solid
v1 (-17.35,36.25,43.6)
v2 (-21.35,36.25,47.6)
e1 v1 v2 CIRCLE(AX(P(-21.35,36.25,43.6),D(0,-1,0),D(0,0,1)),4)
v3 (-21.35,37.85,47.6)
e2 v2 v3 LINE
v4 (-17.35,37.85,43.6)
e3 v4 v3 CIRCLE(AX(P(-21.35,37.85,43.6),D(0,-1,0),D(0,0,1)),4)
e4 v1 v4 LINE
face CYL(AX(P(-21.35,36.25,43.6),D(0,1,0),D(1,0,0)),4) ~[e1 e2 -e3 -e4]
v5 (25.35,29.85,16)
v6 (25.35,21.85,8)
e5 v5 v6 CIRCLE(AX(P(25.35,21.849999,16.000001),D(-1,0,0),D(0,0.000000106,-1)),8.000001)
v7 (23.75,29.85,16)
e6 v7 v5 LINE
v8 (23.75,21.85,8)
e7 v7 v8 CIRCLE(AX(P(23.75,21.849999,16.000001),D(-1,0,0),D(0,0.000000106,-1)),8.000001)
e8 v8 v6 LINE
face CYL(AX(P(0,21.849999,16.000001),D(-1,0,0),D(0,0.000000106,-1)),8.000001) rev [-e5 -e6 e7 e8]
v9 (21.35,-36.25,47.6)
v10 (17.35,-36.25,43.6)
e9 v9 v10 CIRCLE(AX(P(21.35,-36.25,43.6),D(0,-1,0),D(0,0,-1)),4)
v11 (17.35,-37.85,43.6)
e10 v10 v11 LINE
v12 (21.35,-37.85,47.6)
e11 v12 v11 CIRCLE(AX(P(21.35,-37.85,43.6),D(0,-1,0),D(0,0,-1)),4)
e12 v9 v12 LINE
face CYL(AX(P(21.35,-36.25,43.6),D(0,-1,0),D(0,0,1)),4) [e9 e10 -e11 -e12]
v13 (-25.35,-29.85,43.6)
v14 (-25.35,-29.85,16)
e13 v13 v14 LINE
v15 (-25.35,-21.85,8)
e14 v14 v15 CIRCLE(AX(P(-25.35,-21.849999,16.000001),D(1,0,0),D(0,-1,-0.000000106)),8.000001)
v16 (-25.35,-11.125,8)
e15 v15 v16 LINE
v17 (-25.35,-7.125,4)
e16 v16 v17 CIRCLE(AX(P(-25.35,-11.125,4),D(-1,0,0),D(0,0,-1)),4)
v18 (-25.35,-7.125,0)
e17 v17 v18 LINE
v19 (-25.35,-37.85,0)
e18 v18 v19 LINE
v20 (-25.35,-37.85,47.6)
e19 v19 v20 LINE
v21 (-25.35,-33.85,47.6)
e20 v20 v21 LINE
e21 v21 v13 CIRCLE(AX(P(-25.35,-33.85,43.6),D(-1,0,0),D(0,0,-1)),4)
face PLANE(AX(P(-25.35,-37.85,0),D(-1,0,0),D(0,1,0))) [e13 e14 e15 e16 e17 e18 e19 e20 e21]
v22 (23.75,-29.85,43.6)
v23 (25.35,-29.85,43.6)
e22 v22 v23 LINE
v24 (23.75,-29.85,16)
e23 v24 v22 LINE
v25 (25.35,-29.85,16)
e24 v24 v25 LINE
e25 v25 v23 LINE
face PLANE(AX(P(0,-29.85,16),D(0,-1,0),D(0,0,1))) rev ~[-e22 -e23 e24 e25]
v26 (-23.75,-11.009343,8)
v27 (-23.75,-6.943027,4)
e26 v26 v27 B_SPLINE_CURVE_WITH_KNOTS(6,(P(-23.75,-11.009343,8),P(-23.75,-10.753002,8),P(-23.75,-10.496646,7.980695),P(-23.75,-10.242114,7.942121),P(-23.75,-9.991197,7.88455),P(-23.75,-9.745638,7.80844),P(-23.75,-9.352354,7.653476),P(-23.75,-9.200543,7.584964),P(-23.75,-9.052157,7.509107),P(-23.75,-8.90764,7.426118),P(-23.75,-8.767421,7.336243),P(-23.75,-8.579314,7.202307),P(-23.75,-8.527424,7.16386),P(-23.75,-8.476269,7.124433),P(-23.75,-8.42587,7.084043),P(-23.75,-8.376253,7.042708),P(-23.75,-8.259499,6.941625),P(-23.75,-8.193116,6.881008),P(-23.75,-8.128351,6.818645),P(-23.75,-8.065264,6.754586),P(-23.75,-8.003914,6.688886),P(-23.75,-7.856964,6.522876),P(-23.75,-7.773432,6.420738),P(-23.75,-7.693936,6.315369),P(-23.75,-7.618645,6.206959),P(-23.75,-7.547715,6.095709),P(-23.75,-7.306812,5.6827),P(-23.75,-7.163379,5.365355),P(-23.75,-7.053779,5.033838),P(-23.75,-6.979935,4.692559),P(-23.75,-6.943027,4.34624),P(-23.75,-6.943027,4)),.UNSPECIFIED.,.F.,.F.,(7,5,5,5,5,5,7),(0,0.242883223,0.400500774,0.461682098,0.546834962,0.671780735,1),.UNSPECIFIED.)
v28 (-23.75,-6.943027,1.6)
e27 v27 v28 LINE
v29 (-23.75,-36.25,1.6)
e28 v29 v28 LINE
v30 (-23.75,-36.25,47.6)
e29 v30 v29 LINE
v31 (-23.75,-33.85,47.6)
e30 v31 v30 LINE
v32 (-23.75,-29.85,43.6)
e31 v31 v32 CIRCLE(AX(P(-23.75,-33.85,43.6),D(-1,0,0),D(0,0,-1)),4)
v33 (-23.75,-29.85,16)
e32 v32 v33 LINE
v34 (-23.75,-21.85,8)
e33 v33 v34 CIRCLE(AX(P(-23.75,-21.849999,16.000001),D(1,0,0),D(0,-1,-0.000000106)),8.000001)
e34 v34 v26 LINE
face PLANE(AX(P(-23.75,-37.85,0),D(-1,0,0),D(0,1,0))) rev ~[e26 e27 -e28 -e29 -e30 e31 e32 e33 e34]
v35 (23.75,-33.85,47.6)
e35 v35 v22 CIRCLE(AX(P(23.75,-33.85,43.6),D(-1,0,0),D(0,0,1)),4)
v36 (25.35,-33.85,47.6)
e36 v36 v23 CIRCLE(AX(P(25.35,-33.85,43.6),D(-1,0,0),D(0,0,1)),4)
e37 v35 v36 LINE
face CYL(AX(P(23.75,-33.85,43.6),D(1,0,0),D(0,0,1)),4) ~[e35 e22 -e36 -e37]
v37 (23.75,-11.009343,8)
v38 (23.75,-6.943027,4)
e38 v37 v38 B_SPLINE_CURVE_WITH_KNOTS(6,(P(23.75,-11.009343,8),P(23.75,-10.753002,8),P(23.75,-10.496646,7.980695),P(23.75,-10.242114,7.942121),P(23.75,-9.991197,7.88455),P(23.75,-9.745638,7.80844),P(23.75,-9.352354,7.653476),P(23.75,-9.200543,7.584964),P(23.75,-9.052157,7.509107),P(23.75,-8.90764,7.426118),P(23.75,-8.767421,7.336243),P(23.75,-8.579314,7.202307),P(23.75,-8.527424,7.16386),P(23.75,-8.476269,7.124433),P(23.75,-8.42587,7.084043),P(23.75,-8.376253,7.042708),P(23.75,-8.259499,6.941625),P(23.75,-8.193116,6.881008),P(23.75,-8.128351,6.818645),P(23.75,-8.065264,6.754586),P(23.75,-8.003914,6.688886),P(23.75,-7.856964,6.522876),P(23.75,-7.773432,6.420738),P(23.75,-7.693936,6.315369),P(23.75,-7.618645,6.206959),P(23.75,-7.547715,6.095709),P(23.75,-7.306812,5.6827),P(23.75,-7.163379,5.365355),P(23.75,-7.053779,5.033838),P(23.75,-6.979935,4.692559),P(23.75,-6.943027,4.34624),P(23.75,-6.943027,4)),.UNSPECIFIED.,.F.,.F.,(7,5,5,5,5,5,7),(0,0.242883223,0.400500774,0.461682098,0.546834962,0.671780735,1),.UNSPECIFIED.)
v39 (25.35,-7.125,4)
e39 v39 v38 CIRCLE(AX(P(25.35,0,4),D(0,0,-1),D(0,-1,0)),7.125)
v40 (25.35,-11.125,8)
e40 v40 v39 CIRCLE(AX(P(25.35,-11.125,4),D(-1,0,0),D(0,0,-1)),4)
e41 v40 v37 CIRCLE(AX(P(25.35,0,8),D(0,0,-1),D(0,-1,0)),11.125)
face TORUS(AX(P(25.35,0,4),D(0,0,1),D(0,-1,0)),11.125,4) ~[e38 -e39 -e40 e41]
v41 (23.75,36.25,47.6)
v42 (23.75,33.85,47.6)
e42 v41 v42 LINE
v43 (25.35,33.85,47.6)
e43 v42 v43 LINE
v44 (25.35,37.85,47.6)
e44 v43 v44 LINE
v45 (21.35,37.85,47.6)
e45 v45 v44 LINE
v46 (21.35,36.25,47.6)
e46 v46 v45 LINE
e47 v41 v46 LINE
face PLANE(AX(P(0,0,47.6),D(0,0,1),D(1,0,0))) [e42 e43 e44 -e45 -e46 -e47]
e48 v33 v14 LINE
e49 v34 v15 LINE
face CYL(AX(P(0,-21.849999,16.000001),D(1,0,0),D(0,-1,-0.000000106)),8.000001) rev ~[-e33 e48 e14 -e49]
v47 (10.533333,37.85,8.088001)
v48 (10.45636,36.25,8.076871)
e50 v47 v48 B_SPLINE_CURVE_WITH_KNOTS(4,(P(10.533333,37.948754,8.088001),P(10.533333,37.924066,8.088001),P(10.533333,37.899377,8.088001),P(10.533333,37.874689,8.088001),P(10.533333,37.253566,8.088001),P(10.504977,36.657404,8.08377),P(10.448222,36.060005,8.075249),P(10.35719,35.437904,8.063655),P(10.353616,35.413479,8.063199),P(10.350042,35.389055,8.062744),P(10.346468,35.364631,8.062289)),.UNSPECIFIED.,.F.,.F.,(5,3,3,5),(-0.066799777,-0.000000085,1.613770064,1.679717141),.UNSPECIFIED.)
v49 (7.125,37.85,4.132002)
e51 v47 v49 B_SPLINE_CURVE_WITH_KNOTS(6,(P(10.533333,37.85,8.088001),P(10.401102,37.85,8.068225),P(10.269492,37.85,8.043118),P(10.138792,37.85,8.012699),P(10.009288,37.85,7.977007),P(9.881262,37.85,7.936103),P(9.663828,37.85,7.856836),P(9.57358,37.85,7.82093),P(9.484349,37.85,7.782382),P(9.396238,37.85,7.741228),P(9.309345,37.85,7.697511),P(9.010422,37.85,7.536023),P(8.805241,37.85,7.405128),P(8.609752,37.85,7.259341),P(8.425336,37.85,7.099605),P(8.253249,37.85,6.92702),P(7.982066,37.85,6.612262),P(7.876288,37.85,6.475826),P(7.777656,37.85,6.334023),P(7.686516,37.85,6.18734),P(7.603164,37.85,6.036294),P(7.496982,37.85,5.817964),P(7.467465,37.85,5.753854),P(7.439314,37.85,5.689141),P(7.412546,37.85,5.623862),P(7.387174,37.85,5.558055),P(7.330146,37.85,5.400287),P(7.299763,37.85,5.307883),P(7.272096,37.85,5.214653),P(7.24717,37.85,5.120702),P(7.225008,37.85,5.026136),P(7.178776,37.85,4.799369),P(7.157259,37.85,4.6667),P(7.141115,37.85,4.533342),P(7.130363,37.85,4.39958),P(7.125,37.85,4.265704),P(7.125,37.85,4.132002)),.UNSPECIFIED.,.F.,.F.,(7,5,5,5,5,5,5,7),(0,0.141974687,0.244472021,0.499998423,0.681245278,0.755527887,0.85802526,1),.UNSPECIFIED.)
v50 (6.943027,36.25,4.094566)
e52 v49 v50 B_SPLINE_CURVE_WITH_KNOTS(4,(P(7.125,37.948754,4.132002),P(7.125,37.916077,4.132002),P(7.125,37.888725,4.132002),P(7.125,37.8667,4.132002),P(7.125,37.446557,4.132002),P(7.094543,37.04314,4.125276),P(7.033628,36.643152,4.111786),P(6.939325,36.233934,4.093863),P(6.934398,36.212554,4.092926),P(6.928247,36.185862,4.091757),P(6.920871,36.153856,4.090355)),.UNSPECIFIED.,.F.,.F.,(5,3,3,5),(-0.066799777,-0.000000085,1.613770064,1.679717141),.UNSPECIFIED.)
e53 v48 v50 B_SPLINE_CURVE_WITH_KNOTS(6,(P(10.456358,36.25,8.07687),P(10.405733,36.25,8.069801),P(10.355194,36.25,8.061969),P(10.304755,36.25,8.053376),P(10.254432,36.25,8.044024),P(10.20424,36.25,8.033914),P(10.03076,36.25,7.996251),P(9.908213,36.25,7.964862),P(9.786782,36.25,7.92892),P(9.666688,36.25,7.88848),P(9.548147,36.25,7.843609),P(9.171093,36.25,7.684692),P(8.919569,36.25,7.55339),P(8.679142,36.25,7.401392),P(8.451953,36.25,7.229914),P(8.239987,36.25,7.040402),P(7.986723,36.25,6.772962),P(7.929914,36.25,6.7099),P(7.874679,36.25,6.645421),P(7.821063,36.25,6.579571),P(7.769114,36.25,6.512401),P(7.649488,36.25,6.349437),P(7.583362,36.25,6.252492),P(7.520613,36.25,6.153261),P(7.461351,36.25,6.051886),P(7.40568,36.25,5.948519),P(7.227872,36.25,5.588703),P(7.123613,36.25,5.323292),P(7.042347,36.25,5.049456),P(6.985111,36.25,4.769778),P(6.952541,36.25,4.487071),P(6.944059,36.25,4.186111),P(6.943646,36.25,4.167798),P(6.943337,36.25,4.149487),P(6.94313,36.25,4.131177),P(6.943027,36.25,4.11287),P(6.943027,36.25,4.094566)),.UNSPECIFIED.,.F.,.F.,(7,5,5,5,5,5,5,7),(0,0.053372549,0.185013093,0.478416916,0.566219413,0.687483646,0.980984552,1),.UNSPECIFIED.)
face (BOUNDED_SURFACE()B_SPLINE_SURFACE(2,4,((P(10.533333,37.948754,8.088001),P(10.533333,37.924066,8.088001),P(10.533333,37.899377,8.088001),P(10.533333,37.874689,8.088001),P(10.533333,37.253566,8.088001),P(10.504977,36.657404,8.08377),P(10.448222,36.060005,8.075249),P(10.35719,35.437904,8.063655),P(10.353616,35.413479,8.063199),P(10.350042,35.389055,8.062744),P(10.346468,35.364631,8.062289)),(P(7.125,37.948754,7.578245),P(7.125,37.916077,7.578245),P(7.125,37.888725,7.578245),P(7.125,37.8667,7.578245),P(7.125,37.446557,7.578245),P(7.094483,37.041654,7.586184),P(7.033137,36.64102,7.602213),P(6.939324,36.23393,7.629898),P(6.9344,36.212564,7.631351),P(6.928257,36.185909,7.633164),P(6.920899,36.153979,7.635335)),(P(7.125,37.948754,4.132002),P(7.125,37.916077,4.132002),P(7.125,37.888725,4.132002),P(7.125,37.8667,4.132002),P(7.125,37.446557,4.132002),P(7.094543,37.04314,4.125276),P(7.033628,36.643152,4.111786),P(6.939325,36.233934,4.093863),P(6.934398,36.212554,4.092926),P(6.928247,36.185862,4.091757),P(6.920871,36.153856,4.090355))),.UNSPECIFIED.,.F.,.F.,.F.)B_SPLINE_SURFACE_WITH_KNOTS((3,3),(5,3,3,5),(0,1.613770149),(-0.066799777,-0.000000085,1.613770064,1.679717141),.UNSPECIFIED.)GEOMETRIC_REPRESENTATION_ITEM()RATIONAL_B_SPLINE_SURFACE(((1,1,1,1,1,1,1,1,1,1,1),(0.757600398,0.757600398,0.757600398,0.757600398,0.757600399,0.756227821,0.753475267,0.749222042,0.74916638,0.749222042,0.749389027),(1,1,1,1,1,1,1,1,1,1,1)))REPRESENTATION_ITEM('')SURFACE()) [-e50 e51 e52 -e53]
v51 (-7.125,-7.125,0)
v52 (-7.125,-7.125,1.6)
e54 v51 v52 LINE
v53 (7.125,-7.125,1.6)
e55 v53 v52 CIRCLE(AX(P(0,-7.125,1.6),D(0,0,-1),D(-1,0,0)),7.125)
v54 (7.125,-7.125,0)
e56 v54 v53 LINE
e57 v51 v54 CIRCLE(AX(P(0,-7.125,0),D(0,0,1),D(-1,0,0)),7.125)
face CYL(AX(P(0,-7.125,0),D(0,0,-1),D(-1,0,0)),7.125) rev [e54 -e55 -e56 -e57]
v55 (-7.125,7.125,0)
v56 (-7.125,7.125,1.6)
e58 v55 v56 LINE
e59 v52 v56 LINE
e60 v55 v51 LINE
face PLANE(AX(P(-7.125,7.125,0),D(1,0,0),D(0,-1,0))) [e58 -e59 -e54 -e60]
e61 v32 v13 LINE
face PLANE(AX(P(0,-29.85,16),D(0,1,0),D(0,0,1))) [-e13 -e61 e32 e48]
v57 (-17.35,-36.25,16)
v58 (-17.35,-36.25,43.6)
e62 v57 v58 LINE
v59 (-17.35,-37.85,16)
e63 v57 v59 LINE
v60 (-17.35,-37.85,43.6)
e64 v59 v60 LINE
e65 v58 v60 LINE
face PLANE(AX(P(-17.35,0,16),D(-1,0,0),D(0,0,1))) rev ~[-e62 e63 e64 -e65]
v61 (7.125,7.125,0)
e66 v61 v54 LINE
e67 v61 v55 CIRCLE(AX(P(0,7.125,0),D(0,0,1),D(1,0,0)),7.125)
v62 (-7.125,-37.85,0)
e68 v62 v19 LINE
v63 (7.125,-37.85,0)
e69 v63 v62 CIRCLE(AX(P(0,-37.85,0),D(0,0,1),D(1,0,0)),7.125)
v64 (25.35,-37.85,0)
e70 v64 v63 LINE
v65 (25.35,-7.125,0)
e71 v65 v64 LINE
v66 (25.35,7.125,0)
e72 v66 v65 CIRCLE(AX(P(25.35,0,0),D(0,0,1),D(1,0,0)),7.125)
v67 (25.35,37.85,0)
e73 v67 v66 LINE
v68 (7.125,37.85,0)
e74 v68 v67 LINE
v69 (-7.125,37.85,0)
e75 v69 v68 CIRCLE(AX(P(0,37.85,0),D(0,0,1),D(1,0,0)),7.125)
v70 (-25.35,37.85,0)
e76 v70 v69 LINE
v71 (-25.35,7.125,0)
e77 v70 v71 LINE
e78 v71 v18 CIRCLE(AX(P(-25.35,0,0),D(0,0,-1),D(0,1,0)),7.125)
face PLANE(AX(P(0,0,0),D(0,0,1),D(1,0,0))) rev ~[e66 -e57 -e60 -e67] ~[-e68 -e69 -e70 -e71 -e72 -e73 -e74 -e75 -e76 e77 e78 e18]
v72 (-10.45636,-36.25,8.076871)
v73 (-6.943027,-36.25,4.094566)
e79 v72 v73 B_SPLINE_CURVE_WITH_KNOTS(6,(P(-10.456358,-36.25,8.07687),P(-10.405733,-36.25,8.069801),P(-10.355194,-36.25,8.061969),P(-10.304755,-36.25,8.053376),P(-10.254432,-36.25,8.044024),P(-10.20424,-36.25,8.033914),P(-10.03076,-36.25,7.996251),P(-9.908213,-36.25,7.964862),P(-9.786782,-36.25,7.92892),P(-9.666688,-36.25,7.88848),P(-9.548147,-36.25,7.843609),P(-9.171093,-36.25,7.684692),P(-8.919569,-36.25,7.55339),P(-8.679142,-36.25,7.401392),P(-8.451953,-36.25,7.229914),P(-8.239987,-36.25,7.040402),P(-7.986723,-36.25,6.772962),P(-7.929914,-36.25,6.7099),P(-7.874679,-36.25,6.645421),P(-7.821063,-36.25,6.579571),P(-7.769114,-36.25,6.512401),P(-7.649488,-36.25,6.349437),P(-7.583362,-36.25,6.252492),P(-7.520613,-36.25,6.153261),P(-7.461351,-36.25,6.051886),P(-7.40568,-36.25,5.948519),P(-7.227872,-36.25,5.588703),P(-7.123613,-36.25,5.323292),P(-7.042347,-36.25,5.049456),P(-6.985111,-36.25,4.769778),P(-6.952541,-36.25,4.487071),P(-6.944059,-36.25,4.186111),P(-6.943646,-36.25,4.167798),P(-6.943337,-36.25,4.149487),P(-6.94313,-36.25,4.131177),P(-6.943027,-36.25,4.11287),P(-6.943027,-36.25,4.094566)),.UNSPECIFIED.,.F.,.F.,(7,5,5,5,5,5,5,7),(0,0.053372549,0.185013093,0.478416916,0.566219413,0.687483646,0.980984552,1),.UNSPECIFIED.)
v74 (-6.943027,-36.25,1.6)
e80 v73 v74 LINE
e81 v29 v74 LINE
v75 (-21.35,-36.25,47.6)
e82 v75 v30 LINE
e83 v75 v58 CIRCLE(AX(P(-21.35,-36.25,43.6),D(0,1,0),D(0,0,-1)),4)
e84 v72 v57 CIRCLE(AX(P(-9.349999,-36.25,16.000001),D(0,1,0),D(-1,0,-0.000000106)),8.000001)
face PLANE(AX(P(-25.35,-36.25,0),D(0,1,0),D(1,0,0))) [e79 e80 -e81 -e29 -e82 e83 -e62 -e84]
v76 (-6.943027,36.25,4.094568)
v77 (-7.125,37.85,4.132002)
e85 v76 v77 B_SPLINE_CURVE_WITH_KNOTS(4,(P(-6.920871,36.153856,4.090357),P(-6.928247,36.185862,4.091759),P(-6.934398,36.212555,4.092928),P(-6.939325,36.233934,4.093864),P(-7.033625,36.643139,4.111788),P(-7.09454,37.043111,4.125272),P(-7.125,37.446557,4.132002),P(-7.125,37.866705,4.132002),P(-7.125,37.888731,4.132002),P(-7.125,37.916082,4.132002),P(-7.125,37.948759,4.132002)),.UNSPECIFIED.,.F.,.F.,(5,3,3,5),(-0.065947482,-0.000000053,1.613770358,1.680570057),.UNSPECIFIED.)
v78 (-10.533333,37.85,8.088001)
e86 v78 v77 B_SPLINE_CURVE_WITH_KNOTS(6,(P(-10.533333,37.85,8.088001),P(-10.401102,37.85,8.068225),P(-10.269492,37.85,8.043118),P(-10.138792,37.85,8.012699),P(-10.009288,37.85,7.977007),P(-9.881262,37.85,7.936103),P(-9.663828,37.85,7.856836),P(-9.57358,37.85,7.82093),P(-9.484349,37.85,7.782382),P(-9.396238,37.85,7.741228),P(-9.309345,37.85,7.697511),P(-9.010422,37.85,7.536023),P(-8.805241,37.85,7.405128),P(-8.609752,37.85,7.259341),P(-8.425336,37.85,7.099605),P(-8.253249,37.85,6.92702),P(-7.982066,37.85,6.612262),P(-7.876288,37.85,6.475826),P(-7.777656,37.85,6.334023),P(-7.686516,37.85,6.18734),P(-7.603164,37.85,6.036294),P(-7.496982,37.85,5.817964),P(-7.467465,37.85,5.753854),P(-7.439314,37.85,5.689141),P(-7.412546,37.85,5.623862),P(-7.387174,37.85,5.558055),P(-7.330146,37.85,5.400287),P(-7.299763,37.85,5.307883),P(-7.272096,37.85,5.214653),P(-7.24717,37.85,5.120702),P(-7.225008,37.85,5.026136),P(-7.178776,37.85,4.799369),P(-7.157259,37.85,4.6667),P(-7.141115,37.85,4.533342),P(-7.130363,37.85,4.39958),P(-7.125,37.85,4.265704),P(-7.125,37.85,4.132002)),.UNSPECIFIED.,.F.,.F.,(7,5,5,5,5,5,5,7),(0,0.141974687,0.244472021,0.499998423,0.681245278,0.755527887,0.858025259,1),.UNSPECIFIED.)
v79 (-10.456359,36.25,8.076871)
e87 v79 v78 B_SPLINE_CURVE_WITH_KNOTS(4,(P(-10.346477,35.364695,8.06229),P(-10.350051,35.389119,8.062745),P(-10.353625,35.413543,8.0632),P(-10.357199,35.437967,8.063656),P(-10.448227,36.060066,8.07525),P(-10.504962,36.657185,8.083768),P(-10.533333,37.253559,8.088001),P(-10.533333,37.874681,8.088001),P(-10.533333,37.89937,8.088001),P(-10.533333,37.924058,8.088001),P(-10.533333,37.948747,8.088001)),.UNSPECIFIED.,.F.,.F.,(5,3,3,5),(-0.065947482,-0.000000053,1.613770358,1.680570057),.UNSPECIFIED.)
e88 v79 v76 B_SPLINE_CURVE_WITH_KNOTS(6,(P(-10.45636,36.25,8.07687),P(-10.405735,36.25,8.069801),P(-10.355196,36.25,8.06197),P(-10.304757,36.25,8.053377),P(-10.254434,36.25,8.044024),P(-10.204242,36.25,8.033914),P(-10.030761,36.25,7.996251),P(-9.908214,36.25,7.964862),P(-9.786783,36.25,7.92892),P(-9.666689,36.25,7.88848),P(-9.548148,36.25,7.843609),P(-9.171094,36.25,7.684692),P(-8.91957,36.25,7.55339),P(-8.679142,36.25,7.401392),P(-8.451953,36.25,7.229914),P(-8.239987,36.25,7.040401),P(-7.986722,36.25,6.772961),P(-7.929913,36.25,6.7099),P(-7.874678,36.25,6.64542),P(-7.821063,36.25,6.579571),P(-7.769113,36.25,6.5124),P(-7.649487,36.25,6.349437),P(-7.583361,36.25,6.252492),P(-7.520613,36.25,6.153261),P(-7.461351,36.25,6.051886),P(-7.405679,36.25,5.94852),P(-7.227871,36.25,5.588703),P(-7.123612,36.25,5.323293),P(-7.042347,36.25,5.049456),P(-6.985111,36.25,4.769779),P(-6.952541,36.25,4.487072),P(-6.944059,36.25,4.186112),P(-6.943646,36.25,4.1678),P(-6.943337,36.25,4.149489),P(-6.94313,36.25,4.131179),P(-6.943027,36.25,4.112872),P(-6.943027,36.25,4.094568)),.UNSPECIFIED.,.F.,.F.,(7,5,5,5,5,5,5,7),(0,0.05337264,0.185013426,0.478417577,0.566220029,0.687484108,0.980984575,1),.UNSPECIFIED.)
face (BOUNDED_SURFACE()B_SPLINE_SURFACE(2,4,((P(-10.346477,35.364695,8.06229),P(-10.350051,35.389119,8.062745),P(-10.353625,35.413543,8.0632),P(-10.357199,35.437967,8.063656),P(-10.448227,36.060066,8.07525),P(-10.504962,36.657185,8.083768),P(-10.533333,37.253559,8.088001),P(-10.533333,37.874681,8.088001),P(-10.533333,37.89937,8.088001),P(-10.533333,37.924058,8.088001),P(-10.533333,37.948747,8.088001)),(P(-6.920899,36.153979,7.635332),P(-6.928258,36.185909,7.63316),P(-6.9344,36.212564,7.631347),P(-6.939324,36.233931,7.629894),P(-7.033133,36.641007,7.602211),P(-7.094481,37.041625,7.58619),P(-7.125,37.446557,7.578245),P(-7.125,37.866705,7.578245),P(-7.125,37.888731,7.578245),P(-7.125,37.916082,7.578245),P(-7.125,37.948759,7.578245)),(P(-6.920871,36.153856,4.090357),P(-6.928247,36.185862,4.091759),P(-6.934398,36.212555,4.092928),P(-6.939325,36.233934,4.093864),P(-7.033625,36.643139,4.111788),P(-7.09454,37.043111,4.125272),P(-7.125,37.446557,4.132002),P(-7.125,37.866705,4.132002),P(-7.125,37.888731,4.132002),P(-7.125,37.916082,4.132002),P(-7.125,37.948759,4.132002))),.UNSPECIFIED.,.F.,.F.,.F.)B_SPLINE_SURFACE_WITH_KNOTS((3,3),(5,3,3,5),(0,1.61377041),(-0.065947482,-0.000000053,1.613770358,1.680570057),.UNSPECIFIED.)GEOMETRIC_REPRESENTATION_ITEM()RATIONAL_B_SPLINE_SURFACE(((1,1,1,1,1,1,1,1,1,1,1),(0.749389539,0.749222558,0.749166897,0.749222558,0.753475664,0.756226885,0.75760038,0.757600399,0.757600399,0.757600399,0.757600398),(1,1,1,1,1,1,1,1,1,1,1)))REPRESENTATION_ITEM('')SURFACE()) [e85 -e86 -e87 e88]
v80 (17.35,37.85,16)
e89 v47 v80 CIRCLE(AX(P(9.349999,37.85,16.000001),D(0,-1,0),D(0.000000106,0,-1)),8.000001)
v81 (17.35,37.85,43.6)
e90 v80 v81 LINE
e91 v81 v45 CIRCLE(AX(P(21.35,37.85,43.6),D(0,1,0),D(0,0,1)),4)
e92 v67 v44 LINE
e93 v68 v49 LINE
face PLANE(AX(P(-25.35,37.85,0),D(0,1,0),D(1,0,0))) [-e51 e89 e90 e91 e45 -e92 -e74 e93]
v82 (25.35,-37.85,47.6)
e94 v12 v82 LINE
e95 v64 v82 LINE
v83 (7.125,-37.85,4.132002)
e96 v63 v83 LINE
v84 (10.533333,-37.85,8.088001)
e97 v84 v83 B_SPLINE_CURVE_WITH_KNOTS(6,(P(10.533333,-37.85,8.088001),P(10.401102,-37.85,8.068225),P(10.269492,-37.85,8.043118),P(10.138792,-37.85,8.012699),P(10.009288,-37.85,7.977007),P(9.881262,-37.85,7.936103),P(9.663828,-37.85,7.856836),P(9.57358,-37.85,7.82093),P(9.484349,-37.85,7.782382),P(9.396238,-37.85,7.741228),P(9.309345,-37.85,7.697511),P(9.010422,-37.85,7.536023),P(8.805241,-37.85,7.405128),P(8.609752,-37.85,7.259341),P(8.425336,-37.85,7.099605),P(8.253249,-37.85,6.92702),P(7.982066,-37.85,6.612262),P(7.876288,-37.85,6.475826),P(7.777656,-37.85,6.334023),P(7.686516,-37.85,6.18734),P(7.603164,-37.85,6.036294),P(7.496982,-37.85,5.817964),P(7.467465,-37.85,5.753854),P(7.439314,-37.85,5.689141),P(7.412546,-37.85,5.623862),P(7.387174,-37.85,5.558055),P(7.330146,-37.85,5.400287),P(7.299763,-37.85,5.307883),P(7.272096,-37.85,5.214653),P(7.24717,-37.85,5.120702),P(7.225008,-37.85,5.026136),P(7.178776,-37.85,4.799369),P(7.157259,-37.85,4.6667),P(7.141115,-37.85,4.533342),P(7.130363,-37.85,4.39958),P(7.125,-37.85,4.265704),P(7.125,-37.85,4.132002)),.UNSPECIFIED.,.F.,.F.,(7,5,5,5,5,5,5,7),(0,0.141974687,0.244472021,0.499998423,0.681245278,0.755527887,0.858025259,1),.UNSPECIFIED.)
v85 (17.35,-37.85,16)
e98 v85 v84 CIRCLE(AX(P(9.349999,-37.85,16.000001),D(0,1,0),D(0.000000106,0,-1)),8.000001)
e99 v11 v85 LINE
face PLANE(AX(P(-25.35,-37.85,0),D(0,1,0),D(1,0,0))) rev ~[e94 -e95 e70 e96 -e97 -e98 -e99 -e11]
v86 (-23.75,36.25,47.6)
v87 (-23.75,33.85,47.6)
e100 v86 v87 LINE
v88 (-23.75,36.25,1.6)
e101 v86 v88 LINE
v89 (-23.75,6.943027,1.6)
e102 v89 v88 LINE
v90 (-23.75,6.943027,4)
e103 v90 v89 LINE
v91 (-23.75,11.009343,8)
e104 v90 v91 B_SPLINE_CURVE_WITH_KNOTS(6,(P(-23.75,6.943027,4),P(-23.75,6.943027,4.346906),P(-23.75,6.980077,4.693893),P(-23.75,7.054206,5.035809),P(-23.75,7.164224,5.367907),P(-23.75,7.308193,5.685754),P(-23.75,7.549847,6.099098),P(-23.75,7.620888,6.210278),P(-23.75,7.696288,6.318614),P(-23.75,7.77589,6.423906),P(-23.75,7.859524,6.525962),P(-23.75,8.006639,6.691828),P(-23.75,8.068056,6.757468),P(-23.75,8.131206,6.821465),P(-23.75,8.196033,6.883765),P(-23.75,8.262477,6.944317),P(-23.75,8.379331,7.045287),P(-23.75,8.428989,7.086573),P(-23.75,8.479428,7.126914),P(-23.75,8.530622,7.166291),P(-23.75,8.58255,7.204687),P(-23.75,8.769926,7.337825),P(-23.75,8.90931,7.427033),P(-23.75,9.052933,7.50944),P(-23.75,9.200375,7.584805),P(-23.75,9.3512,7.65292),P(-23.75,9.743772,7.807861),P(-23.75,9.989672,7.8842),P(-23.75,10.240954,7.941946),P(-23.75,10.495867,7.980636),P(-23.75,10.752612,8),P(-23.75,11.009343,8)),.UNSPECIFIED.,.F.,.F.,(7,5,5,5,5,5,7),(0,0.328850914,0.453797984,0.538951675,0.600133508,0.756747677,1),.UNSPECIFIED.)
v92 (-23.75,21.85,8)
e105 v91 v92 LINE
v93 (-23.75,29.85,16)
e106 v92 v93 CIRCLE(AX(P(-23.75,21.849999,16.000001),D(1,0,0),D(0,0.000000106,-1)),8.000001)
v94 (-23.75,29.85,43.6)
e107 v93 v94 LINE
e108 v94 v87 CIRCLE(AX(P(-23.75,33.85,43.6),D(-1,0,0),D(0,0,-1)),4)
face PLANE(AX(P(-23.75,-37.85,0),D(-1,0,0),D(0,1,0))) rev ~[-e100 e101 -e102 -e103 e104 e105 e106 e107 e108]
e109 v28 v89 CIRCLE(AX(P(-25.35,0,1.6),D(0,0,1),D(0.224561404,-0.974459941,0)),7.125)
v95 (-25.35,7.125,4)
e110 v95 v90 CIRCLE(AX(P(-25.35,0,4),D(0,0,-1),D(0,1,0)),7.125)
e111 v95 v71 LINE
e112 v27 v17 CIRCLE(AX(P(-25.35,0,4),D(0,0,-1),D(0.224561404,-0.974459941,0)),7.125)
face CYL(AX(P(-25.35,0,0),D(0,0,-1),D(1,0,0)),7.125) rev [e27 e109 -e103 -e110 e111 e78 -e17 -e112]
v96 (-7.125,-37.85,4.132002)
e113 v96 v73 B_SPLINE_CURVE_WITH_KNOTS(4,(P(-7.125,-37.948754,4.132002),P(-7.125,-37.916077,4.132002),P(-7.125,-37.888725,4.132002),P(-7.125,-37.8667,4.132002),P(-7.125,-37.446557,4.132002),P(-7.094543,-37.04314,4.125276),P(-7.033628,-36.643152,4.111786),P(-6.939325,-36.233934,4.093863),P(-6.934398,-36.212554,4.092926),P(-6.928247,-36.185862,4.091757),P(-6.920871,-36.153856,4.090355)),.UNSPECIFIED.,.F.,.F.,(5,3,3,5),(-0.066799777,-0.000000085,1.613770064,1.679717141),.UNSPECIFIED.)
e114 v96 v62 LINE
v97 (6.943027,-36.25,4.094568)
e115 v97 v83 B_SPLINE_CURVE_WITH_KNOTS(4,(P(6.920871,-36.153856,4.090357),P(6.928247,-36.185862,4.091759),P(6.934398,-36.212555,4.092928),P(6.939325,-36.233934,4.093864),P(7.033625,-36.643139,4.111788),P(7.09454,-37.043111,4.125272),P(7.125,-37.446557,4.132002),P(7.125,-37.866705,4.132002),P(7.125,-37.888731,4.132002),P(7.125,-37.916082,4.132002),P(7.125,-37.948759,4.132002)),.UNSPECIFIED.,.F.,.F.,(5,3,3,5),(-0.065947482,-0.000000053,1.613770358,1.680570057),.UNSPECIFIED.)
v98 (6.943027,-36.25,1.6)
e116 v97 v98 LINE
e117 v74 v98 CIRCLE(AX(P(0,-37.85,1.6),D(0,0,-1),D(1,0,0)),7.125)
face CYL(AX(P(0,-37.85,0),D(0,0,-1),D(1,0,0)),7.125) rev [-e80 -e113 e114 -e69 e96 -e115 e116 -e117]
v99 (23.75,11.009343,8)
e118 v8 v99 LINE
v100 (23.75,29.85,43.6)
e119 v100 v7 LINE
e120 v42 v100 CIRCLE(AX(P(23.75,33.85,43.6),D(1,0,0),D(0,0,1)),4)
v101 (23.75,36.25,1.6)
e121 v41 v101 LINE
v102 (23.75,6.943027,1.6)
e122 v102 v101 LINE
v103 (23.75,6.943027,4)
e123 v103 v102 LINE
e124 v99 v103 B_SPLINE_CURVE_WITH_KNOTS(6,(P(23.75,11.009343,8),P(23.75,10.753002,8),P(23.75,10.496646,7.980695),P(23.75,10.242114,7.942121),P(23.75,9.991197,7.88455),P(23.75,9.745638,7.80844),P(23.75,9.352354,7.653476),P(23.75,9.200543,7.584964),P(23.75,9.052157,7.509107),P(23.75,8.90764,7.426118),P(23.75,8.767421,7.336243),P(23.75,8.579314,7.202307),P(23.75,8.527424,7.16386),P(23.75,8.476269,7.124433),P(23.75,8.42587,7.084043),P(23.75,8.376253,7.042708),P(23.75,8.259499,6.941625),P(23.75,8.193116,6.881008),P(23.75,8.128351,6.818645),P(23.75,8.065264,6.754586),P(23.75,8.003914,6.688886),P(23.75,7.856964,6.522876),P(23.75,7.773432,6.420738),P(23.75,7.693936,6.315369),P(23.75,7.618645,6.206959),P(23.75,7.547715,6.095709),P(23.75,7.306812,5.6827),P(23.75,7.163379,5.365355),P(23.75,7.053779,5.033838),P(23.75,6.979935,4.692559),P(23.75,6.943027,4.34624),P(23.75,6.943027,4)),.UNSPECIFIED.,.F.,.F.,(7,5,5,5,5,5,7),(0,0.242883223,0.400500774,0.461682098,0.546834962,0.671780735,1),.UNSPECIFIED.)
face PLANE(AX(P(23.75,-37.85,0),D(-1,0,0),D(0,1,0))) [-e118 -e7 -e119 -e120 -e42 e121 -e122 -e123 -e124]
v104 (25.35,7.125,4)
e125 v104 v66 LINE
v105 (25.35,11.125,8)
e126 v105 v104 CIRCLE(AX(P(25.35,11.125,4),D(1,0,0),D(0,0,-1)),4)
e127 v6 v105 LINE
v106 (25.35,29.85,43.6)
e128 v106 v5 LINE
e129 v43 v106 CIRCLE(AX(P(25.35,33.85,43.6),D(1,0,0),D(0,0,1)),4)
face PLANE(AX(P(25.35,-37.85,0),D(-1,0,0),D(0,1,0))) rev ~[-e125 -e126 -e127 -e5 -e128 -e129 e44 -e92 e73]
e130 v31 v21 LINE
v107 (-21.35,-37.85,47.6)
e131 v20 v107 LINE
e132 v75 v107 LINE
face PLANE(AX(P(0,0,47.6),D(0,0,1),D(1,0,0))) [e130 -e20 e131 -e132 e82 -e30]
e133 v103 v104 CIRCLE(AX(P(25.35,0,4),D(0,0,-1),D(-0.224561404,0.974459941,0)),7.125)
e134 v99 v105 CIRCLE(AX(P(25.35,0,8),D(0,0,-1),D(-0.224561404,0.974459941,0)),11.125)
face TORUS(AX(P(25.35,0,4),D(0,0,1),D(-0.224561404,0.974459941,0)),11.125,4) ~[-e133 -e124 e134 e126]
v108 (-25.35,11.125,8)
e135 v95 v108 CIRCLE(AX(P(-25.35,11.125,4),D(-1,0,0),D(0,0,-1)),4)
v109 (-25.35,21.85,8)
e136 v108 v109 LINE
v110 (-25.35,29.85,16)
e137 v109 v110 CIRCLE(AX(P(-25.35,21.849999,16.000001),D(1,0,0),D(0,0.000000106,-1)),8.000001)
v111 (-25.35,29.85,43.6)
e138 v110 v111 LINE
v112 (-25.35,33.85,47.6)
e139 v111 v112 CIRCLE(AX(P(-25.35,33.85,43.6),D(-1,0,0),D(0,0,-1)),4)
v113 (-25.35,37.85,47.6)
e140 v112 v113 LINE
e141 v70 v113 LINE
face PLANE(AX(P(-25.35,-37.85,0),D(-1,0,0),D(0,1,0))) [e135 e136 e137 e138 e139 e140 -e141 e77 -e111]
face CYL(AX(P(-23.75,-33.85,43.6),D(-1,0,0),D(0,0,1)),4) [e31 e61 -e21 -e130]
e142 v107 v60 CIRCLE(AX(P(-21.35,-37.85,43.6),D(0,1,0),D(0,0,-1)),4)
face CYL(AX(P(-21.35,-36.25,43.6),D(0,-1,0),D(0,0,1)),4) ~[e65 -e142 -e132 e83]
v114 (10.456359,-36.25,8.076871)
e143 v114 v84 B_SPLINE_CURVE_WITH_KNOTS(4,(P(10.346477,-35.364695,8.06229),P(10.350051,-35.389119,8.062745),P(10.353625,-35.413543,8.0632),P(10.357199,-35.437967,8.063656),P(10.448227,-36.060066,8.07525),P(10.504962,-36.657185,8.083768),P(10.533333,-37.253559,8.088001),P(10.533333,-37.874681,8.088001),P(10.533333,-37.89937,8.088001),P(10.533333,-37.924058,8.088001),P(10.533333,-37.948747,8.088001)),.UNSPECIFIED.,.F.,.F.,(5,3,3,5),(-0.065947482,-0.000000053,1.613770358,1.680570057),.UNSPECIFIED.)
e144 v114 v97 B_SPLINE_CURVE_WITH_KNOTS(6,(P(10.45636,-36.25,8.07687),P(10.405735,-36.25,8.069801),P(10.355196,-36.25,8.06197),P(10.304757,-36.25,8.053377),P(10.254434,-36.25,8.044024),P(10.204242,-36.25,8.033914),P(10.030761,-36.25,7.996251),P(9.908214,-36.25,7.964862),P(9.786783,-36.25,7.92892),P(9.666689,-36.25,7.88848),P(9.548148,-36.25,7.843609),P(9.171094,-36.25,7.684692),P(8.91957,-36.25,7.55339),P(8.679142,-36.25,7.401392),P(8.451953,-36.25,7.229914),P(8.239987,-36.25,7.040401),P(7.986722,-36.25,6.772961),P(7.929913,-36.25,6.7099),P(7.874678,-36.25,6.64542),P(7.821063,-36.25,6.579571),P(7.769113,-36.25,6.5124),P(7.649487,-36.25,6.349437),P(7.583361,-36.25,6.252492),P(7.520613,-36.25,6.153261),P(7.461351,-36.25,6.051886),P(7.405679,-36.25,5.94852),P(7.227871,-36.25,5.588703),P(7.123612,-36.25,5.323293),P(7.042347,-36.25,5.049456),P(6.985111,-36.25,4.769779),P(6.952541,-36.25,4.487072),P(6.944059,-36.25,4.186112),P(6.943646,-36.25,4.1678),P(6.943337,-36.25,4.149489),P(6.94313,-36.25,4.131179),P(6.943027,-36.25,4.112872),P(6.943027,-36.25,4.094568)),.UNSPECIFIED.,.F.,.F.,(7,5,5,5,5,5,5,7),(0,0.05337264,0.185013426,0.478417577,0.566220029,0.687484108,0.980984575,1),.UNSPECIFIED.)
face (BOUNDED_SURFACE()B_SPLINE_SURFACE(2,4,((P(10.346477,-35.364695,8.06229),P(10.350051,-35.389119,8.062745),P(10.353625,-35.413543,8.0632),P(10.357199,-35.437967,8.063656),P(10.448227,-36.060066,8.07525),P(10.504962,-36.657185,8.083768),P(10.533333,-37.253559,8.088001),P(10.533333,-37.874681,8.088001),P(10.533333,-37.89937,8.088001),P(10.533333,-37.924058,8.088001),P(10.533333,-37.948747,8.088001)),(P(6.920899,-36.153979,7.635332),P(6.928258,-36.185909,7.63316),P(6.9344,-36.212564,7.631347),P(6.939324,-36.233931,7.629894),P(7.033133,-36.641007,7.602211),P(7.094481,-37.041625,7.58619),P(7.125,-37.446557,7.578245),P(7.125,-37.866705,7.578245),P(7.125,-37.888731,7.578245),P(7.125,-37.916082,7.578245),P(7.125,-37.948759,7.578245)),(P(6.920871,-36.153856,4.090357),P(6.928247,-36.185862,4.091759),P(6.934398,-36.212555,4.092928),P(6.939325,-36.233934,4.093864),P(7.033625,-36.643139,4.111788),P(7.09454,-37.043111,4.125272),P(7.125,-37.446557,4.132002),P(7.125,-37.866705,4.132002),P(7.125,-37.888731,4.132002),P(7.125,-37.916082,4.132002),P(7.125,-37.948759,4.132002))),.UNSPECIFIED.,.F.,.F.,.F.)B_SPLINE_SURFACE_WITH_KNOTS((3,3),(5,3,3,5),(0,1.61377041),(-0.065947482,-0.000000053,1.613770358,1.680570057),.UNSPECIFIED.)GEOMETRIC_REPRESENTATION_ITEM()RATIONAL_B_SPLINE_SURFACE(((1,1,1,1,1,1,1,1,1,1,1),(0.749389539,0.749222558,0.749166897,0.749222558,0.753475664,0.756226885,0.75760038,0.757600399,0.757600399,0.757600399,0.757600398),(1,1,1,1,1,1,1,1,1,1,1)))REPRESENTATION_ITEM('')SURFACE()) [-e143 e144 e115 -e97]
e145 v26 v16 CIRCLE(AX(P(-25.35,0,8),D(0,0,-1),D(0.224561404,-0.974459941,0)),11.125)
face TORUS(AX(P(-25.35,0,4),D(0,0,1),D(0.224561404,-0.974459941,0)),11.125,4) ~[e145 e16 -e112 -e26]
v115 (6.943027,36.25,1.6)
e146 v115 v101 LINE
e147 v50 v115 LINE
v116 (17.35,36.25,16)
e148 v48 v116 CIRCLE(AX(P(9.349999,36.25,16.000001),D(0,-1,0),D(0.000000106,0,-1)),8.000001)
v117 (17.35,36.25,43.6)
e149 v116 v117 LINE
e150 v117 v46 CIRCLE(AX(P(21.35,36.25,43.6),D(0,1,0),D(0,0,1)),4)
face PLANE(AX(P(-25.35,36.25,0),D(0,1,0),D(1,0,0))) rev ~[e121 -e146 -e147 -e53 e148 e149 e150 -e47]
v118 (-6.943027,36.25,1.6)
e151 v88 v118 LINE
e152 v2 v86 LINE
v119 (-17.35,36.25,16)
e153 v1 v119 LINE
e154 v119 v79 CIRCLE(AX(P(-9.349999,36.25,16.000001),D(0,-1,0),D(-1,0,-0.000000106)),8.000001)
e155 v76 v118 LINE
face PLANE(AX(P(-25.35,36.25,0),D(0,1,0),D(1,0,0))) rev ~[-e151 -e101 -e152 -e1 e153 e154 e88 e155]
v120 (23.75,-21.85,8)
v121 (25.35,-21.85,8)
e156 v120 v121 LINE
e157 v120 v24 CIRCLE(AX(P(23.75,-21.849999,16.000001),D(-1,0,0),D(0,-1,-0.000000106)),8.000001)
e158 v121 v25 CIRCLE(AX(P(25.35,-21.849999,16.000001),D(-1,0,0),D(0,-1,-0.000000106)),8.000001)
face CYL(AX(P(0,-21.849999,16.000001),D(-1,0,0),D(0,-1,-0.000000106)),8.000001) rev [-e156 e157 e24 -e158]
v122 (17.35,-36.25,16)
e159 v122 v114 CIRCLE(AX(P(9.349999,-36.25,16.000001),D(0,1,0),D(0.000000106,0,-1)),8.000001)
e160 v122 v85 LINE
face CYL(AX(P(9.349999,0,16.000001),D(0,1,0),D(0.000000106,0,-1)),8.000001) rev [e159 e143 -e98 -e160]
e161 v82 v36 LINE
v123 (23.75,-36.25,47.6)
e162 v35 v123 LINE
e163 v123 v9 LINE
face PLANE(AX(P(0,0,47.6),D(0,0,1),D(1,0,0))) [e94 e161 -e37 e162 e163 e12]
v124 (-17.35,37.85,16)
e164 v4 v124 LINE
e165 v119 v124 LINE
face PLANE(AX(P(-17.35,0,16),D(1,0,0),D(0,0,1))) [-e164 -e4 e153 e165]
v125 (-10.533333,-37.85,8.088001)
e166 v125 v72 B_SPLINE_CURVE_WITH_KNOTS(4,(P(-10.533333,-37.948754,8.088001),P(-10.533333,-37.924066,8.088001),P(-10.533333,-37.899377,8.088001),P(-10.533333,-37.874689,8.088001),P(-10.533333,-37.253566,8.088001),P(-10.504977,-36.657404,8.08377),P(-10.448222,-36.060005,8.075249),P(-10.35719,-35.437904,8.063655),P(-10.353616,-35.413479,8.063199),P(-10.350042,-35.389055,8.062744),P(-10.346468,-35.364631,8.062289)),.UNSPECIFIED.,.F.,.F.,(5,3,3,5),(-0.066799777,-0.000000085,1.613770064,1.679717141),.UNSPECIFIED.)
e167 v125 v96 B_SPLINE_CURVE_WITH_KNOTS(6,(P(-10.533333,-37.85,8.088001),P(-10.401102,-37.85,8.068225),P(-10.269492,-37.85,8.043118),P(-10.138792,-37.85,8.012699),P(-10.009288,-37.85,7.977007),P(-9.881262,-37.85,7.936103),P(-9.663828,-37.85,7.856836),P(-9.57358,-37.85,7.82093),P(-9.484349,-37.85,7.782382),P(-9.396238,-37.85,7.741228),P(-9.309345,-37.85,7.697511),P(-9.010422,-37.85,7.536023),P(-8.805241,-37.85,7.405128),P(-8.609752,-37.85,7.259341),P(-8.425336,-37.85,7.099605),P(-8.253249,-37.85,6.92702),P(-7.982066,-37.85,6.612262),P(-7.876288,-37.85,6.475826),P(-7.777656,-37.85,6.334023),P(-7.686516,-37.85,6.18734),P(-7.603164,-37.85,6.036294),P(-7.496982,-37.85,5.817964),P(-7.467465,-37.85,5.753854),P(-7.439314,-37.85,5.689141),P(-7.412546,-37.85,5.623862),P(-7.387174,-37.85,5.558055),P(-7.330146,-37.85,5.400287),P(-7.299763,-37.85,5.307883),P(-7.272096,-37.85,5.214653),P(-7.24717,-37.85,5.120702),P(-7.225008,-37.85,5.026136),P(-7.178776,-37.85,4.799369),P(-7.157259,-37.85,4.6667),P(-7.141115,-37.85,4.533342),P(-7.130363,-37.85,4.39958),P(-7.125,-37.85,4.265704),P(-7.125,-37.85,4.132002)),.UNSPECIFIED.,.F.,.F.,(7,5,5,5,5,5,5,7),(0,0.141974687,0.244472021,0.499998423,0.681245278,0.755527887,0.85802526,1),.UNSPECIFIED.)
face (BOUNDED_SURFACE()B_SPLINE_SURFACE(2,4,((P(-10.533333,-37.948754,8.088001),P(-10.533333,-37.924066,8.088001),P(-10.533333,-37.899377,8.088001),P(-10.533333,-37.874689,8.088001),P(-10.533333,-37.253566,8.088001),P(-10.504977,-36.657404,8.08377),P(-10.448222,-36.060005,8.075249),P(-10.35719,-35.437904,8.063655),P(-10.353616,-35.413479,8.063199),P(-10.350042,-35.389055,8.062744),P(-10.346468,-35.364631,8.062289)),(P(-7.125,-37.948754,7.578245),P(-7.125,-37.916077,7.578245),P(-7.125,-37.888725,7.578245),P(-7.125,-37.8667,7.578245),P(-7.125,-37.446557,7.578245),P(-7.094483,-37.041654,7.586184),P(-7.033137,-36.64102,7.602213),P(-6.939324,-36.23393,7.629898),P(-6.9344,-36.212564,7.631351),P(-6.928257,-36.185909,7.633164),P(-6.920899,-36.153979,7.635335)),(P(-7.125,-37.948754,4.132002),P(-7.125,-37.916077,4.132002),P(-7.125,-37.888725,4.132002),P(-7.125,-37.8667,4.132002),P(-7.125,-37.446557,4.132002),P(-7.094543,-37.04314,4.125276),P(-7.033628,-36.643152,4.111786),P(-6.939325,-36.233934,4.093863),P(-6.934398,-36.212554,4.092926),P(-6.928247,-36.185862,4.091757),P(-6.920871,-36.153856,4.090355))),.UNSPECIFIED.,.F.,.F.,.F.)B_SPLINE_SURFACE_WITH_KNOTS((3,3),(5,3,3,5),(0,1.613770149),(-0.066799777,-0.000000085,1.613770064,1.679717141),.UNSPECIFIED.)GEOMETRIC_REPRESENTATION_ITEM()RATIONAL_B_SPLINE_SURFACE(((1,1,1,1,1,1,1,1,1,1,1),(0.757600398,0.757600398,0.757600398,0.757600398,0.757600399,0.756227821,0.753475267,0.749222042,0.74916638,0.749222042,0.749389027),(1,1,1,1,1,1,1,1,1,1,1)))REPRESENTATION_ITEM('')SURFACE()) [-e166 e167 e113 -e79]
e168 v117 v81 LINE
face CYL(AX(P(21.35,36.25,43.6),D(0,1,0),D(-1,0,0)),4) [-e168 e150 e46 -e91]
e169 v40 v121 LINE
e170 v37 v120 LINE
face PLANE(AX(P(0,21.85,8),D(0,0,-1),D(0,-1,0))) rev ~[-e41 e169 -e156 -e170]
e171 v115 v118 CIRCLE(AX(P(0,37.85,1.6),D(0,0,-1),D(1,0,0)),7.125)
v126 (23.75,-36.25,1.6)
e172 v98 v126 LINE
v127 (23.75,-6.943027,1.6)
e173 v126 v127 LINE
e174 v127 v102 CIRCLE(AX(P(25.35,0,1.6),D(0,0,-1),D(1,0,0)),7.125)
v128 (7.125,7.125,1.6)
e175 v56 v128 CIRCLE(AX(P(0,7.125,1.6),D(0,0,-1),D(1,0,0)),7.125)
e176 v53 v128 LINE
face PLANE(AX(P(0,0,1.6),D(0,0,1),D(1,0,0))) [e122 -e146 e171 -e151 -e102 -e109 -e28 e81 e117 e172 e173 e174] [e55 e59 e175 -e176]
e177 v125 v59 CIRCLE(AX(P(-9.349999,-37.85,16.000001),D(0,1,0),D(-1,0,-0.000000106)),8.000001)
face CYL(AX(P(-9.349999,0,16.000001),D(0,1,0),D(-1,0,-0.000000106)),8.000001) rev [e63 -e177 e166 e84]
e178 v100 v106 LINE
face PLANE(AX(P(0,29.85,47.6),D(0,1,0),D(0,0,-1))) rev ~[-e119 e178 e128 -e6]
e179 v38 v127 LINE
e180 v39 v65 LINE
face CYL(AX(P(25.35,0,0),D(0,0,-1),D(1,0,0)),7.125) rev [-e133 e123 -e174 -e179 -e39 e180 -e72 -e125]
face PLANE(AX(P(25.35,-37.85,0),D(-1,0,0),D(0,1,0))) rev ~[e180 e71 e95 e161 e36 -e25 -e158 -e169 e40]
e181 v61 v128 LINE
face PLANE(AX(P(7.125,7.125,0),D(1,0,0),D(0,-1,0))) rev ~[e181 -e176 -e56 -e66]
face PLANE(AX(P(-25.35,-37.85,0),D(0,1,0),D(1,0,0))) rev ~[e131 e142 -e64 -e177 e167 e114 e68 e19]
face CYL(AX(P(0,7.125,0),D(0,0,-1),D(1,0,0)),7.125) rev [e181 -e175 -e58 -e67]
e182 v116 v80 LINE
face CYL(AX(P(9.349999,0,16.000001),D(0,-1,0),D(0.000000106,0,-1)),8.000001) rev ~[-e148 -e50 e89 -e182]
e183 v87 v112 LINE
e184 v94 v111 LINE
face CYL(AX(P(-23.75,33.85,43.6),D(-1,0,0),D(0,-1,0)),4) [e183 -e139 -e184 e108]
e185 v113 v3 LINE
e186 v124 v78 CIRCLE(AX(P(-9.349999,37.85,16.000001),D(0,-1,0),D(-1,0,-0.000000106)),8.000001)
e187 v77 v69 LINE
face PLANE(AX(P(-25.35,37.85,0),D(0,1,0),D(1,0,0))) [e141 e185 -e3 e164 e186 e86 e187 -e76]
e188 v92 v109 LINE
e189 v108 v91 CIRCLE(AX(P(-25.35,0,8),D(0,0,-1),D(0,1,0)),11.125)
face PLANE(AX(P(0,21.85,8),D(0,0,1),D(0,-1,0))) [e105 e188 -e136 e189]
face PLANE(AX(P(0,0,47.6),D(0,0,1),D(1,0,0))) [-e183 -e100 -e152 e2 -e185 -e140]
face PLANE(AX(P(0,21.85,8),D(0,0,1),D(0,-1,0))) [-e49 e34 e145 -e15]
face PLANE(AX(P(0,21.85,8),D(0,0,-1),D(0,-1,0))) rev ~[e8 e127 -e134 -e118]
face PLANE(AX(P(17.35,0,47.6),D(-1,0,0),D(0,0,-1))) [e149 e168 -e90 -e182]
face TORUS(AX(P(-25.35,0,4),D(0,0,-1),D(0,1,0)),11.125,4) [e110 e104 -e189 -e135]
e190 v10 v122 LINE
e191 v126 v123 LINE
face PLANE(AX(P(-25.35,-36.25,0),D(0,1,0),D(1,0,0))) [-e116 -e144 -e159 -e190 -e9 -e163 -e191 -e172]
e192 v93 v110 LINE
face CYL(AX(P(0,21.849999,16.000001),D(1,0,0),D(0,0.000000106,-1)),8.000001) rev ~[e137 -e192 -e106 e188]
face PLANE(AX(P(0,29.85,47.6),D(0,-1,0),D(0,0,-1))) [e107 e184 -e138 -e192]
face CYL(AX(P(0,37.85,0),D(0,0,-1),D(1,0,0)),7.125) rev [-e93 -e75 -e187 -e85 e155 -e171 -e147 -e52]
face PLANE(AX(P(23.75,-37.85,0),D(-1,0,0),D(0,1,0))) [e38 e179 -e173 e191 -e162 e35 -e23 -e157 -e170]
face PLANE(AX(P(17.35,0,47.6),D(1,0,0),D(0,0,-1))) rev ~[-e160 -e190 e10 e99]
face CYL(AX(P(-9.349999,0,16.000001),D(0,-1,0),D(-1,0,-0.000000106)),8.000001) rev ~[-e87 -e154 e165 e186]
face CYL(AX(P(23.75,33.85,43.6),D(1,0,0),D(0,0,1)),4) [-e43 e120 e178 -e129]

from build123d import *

# Parameters (mm, degrees)
SKETCH008_W          = 50.7
SKETCH008_H          = 75.7
PAD002_DEPTH         = 47.6
THICKNESS002_T       = -1.6
POCKET004_DEPTH      = 37.851
POCKET004_DEPTH_BACK = 37.851
POCKET003_DEPTH      = 25.351
POCKET003_DEPTH_BACK = 25.351
SKETCH006_R          = 7.125
POCKET005_DEPTH      = 0.001
POCKET005_DEPTH_BACK = 47.601
FILLET001_R          = 4


with BuildPart() as part:
    # Sketch008 → Pad002 (new body)
    with BuildSketch(Plane.XY):
        Rectangle(SKETCH008_W, SKETCH008_H)
    extrude(amount=PAD002_DEPTH)

    # Thickness002
    thickness002_openings = [part.faces().sort_by_distance(p)[0] for p in [
        (0, 0, 47.6),
    ]]
    offset(amount=THICKNESS002_T, openings=thickness002_openings, kind=Kind.INTERSECTION)

    # Sketch007 → Pocket004 (cut, two sides)
    with BuildSketch(Plane.XZ) as pocket004_sk:
        with BuildLine():
            Line((-17.35, 47.6), (17.35, 47.6))
            Line((17.35, 47.6), (17.35, 16))
            ThreePointArc((9.35, 8), (15.006854, 10.343146), (17.35, 16))
            Line((9.35, 8), (-9.35, 8))
            ThreePointArc((-17.35, 16), (-15.006854, 10.343146), (-9.35, 8))
            Line((-17.35, 16), (-17.35, 47.6))
        make_face()
    extrude(amount=-POCKET004_DEPTH, mode=Mode.SUBTRACT)
    extrude(pocket004_sk.sketch, amount=POCKET004_DEPTH_BACK, mode=Mode.SUBTRACT)

    # Sketch005 → Pocket003 (cut, two sides)
    with BuildSketch(Plane.YZ) as pocket003_sk:
        with BuildLine():
            Line((-29.85, 47.6), (29.85, 47.6))
            Line((29.85, 47.6), (29.85, 16))
            ThreePointArc((21.85, 8), (27.506854, 10.343146), (29.85, 16))
            Line((21.85, 8), (-21.85, 8))
            ThreePointArc((-29.85, 16), (-27.506854, 10.343146), (-21.85, 8))
            Line((-29.85, 16), (-29.85, 47.6))
        make_face()
    extrude(amount=-POCKET003_DEPTH, mode=Mode.SUBTRACT)
    extrude(pocket003_sk.sketch, amount=POCKET003_DEPTH_BACK, mode=Mode.SUBTRACT)

    # Sketch006 → Pocket005 (cut, two sides)
    with BuildSketch(Plane.XY) as pocket005_sk:
        with Locations((0, 37.85)):
            Circle(SKETCH006_R)
        with Locations((0, -37.85)):
            Circle(SKETCH006_R)
        with Locations((25.35, 0)):
            Circle(SKETCH006_R)
        with Locations((-25.35, 0)):
            Circle(SKETCH006_R)
        with BuildLine():
            ThreePointArc((7.125, 7.125), (0, 14.25), (-7.125, 7.125))
            Line((-7.125, 7.125), (-7.125, -7.125))
            ThreePointArc((-7.125, -7.125), (0, -14.25), (7.125, -7.125))
            Line((7.125, 7.125), (7.125, -7.125))
        make_face()
    extrude(amount=-POCKET005_DEPTH, mode=Mode.SUBTRACT)
    extrude(pocket005_sk.sketch, amount=POCKET005_DEPTH_BACK, mode=Mode.SUBTRACT)

    # Fillet001
    fillet001_edges = [part.edges().sort_by_distance(p)[0] for p in [
        (24.544843, -7.079361, 8),
        (24.544843, 7.079361, 8),
        (24.55, 29.85, 47.6),
        (17.35, 37.05, 47.6),
        (7.079361, 37.044843, 8),
        (-7.079361, 37.044843, 8),
        (-17.35, 37.05, 47.6),
        (-24.55, 29.85, 47.6),
        (-24.544843, 7.079361, 8),
        (-24.544843, -7.079361, 8),
        (-24.55, -29.85, 47.6),
        (-17.35, -37.05, 47.6),
        (-7.079361, -37.044843, 8),
        (7.079361, -37.044843, 8),
        (17.35, -37.05, 47.6),
        (24.55, -29.85, 47.6),
    ]]
    fillet(fillet001_edges, radius=FILLET001_R)


solid = part.part
